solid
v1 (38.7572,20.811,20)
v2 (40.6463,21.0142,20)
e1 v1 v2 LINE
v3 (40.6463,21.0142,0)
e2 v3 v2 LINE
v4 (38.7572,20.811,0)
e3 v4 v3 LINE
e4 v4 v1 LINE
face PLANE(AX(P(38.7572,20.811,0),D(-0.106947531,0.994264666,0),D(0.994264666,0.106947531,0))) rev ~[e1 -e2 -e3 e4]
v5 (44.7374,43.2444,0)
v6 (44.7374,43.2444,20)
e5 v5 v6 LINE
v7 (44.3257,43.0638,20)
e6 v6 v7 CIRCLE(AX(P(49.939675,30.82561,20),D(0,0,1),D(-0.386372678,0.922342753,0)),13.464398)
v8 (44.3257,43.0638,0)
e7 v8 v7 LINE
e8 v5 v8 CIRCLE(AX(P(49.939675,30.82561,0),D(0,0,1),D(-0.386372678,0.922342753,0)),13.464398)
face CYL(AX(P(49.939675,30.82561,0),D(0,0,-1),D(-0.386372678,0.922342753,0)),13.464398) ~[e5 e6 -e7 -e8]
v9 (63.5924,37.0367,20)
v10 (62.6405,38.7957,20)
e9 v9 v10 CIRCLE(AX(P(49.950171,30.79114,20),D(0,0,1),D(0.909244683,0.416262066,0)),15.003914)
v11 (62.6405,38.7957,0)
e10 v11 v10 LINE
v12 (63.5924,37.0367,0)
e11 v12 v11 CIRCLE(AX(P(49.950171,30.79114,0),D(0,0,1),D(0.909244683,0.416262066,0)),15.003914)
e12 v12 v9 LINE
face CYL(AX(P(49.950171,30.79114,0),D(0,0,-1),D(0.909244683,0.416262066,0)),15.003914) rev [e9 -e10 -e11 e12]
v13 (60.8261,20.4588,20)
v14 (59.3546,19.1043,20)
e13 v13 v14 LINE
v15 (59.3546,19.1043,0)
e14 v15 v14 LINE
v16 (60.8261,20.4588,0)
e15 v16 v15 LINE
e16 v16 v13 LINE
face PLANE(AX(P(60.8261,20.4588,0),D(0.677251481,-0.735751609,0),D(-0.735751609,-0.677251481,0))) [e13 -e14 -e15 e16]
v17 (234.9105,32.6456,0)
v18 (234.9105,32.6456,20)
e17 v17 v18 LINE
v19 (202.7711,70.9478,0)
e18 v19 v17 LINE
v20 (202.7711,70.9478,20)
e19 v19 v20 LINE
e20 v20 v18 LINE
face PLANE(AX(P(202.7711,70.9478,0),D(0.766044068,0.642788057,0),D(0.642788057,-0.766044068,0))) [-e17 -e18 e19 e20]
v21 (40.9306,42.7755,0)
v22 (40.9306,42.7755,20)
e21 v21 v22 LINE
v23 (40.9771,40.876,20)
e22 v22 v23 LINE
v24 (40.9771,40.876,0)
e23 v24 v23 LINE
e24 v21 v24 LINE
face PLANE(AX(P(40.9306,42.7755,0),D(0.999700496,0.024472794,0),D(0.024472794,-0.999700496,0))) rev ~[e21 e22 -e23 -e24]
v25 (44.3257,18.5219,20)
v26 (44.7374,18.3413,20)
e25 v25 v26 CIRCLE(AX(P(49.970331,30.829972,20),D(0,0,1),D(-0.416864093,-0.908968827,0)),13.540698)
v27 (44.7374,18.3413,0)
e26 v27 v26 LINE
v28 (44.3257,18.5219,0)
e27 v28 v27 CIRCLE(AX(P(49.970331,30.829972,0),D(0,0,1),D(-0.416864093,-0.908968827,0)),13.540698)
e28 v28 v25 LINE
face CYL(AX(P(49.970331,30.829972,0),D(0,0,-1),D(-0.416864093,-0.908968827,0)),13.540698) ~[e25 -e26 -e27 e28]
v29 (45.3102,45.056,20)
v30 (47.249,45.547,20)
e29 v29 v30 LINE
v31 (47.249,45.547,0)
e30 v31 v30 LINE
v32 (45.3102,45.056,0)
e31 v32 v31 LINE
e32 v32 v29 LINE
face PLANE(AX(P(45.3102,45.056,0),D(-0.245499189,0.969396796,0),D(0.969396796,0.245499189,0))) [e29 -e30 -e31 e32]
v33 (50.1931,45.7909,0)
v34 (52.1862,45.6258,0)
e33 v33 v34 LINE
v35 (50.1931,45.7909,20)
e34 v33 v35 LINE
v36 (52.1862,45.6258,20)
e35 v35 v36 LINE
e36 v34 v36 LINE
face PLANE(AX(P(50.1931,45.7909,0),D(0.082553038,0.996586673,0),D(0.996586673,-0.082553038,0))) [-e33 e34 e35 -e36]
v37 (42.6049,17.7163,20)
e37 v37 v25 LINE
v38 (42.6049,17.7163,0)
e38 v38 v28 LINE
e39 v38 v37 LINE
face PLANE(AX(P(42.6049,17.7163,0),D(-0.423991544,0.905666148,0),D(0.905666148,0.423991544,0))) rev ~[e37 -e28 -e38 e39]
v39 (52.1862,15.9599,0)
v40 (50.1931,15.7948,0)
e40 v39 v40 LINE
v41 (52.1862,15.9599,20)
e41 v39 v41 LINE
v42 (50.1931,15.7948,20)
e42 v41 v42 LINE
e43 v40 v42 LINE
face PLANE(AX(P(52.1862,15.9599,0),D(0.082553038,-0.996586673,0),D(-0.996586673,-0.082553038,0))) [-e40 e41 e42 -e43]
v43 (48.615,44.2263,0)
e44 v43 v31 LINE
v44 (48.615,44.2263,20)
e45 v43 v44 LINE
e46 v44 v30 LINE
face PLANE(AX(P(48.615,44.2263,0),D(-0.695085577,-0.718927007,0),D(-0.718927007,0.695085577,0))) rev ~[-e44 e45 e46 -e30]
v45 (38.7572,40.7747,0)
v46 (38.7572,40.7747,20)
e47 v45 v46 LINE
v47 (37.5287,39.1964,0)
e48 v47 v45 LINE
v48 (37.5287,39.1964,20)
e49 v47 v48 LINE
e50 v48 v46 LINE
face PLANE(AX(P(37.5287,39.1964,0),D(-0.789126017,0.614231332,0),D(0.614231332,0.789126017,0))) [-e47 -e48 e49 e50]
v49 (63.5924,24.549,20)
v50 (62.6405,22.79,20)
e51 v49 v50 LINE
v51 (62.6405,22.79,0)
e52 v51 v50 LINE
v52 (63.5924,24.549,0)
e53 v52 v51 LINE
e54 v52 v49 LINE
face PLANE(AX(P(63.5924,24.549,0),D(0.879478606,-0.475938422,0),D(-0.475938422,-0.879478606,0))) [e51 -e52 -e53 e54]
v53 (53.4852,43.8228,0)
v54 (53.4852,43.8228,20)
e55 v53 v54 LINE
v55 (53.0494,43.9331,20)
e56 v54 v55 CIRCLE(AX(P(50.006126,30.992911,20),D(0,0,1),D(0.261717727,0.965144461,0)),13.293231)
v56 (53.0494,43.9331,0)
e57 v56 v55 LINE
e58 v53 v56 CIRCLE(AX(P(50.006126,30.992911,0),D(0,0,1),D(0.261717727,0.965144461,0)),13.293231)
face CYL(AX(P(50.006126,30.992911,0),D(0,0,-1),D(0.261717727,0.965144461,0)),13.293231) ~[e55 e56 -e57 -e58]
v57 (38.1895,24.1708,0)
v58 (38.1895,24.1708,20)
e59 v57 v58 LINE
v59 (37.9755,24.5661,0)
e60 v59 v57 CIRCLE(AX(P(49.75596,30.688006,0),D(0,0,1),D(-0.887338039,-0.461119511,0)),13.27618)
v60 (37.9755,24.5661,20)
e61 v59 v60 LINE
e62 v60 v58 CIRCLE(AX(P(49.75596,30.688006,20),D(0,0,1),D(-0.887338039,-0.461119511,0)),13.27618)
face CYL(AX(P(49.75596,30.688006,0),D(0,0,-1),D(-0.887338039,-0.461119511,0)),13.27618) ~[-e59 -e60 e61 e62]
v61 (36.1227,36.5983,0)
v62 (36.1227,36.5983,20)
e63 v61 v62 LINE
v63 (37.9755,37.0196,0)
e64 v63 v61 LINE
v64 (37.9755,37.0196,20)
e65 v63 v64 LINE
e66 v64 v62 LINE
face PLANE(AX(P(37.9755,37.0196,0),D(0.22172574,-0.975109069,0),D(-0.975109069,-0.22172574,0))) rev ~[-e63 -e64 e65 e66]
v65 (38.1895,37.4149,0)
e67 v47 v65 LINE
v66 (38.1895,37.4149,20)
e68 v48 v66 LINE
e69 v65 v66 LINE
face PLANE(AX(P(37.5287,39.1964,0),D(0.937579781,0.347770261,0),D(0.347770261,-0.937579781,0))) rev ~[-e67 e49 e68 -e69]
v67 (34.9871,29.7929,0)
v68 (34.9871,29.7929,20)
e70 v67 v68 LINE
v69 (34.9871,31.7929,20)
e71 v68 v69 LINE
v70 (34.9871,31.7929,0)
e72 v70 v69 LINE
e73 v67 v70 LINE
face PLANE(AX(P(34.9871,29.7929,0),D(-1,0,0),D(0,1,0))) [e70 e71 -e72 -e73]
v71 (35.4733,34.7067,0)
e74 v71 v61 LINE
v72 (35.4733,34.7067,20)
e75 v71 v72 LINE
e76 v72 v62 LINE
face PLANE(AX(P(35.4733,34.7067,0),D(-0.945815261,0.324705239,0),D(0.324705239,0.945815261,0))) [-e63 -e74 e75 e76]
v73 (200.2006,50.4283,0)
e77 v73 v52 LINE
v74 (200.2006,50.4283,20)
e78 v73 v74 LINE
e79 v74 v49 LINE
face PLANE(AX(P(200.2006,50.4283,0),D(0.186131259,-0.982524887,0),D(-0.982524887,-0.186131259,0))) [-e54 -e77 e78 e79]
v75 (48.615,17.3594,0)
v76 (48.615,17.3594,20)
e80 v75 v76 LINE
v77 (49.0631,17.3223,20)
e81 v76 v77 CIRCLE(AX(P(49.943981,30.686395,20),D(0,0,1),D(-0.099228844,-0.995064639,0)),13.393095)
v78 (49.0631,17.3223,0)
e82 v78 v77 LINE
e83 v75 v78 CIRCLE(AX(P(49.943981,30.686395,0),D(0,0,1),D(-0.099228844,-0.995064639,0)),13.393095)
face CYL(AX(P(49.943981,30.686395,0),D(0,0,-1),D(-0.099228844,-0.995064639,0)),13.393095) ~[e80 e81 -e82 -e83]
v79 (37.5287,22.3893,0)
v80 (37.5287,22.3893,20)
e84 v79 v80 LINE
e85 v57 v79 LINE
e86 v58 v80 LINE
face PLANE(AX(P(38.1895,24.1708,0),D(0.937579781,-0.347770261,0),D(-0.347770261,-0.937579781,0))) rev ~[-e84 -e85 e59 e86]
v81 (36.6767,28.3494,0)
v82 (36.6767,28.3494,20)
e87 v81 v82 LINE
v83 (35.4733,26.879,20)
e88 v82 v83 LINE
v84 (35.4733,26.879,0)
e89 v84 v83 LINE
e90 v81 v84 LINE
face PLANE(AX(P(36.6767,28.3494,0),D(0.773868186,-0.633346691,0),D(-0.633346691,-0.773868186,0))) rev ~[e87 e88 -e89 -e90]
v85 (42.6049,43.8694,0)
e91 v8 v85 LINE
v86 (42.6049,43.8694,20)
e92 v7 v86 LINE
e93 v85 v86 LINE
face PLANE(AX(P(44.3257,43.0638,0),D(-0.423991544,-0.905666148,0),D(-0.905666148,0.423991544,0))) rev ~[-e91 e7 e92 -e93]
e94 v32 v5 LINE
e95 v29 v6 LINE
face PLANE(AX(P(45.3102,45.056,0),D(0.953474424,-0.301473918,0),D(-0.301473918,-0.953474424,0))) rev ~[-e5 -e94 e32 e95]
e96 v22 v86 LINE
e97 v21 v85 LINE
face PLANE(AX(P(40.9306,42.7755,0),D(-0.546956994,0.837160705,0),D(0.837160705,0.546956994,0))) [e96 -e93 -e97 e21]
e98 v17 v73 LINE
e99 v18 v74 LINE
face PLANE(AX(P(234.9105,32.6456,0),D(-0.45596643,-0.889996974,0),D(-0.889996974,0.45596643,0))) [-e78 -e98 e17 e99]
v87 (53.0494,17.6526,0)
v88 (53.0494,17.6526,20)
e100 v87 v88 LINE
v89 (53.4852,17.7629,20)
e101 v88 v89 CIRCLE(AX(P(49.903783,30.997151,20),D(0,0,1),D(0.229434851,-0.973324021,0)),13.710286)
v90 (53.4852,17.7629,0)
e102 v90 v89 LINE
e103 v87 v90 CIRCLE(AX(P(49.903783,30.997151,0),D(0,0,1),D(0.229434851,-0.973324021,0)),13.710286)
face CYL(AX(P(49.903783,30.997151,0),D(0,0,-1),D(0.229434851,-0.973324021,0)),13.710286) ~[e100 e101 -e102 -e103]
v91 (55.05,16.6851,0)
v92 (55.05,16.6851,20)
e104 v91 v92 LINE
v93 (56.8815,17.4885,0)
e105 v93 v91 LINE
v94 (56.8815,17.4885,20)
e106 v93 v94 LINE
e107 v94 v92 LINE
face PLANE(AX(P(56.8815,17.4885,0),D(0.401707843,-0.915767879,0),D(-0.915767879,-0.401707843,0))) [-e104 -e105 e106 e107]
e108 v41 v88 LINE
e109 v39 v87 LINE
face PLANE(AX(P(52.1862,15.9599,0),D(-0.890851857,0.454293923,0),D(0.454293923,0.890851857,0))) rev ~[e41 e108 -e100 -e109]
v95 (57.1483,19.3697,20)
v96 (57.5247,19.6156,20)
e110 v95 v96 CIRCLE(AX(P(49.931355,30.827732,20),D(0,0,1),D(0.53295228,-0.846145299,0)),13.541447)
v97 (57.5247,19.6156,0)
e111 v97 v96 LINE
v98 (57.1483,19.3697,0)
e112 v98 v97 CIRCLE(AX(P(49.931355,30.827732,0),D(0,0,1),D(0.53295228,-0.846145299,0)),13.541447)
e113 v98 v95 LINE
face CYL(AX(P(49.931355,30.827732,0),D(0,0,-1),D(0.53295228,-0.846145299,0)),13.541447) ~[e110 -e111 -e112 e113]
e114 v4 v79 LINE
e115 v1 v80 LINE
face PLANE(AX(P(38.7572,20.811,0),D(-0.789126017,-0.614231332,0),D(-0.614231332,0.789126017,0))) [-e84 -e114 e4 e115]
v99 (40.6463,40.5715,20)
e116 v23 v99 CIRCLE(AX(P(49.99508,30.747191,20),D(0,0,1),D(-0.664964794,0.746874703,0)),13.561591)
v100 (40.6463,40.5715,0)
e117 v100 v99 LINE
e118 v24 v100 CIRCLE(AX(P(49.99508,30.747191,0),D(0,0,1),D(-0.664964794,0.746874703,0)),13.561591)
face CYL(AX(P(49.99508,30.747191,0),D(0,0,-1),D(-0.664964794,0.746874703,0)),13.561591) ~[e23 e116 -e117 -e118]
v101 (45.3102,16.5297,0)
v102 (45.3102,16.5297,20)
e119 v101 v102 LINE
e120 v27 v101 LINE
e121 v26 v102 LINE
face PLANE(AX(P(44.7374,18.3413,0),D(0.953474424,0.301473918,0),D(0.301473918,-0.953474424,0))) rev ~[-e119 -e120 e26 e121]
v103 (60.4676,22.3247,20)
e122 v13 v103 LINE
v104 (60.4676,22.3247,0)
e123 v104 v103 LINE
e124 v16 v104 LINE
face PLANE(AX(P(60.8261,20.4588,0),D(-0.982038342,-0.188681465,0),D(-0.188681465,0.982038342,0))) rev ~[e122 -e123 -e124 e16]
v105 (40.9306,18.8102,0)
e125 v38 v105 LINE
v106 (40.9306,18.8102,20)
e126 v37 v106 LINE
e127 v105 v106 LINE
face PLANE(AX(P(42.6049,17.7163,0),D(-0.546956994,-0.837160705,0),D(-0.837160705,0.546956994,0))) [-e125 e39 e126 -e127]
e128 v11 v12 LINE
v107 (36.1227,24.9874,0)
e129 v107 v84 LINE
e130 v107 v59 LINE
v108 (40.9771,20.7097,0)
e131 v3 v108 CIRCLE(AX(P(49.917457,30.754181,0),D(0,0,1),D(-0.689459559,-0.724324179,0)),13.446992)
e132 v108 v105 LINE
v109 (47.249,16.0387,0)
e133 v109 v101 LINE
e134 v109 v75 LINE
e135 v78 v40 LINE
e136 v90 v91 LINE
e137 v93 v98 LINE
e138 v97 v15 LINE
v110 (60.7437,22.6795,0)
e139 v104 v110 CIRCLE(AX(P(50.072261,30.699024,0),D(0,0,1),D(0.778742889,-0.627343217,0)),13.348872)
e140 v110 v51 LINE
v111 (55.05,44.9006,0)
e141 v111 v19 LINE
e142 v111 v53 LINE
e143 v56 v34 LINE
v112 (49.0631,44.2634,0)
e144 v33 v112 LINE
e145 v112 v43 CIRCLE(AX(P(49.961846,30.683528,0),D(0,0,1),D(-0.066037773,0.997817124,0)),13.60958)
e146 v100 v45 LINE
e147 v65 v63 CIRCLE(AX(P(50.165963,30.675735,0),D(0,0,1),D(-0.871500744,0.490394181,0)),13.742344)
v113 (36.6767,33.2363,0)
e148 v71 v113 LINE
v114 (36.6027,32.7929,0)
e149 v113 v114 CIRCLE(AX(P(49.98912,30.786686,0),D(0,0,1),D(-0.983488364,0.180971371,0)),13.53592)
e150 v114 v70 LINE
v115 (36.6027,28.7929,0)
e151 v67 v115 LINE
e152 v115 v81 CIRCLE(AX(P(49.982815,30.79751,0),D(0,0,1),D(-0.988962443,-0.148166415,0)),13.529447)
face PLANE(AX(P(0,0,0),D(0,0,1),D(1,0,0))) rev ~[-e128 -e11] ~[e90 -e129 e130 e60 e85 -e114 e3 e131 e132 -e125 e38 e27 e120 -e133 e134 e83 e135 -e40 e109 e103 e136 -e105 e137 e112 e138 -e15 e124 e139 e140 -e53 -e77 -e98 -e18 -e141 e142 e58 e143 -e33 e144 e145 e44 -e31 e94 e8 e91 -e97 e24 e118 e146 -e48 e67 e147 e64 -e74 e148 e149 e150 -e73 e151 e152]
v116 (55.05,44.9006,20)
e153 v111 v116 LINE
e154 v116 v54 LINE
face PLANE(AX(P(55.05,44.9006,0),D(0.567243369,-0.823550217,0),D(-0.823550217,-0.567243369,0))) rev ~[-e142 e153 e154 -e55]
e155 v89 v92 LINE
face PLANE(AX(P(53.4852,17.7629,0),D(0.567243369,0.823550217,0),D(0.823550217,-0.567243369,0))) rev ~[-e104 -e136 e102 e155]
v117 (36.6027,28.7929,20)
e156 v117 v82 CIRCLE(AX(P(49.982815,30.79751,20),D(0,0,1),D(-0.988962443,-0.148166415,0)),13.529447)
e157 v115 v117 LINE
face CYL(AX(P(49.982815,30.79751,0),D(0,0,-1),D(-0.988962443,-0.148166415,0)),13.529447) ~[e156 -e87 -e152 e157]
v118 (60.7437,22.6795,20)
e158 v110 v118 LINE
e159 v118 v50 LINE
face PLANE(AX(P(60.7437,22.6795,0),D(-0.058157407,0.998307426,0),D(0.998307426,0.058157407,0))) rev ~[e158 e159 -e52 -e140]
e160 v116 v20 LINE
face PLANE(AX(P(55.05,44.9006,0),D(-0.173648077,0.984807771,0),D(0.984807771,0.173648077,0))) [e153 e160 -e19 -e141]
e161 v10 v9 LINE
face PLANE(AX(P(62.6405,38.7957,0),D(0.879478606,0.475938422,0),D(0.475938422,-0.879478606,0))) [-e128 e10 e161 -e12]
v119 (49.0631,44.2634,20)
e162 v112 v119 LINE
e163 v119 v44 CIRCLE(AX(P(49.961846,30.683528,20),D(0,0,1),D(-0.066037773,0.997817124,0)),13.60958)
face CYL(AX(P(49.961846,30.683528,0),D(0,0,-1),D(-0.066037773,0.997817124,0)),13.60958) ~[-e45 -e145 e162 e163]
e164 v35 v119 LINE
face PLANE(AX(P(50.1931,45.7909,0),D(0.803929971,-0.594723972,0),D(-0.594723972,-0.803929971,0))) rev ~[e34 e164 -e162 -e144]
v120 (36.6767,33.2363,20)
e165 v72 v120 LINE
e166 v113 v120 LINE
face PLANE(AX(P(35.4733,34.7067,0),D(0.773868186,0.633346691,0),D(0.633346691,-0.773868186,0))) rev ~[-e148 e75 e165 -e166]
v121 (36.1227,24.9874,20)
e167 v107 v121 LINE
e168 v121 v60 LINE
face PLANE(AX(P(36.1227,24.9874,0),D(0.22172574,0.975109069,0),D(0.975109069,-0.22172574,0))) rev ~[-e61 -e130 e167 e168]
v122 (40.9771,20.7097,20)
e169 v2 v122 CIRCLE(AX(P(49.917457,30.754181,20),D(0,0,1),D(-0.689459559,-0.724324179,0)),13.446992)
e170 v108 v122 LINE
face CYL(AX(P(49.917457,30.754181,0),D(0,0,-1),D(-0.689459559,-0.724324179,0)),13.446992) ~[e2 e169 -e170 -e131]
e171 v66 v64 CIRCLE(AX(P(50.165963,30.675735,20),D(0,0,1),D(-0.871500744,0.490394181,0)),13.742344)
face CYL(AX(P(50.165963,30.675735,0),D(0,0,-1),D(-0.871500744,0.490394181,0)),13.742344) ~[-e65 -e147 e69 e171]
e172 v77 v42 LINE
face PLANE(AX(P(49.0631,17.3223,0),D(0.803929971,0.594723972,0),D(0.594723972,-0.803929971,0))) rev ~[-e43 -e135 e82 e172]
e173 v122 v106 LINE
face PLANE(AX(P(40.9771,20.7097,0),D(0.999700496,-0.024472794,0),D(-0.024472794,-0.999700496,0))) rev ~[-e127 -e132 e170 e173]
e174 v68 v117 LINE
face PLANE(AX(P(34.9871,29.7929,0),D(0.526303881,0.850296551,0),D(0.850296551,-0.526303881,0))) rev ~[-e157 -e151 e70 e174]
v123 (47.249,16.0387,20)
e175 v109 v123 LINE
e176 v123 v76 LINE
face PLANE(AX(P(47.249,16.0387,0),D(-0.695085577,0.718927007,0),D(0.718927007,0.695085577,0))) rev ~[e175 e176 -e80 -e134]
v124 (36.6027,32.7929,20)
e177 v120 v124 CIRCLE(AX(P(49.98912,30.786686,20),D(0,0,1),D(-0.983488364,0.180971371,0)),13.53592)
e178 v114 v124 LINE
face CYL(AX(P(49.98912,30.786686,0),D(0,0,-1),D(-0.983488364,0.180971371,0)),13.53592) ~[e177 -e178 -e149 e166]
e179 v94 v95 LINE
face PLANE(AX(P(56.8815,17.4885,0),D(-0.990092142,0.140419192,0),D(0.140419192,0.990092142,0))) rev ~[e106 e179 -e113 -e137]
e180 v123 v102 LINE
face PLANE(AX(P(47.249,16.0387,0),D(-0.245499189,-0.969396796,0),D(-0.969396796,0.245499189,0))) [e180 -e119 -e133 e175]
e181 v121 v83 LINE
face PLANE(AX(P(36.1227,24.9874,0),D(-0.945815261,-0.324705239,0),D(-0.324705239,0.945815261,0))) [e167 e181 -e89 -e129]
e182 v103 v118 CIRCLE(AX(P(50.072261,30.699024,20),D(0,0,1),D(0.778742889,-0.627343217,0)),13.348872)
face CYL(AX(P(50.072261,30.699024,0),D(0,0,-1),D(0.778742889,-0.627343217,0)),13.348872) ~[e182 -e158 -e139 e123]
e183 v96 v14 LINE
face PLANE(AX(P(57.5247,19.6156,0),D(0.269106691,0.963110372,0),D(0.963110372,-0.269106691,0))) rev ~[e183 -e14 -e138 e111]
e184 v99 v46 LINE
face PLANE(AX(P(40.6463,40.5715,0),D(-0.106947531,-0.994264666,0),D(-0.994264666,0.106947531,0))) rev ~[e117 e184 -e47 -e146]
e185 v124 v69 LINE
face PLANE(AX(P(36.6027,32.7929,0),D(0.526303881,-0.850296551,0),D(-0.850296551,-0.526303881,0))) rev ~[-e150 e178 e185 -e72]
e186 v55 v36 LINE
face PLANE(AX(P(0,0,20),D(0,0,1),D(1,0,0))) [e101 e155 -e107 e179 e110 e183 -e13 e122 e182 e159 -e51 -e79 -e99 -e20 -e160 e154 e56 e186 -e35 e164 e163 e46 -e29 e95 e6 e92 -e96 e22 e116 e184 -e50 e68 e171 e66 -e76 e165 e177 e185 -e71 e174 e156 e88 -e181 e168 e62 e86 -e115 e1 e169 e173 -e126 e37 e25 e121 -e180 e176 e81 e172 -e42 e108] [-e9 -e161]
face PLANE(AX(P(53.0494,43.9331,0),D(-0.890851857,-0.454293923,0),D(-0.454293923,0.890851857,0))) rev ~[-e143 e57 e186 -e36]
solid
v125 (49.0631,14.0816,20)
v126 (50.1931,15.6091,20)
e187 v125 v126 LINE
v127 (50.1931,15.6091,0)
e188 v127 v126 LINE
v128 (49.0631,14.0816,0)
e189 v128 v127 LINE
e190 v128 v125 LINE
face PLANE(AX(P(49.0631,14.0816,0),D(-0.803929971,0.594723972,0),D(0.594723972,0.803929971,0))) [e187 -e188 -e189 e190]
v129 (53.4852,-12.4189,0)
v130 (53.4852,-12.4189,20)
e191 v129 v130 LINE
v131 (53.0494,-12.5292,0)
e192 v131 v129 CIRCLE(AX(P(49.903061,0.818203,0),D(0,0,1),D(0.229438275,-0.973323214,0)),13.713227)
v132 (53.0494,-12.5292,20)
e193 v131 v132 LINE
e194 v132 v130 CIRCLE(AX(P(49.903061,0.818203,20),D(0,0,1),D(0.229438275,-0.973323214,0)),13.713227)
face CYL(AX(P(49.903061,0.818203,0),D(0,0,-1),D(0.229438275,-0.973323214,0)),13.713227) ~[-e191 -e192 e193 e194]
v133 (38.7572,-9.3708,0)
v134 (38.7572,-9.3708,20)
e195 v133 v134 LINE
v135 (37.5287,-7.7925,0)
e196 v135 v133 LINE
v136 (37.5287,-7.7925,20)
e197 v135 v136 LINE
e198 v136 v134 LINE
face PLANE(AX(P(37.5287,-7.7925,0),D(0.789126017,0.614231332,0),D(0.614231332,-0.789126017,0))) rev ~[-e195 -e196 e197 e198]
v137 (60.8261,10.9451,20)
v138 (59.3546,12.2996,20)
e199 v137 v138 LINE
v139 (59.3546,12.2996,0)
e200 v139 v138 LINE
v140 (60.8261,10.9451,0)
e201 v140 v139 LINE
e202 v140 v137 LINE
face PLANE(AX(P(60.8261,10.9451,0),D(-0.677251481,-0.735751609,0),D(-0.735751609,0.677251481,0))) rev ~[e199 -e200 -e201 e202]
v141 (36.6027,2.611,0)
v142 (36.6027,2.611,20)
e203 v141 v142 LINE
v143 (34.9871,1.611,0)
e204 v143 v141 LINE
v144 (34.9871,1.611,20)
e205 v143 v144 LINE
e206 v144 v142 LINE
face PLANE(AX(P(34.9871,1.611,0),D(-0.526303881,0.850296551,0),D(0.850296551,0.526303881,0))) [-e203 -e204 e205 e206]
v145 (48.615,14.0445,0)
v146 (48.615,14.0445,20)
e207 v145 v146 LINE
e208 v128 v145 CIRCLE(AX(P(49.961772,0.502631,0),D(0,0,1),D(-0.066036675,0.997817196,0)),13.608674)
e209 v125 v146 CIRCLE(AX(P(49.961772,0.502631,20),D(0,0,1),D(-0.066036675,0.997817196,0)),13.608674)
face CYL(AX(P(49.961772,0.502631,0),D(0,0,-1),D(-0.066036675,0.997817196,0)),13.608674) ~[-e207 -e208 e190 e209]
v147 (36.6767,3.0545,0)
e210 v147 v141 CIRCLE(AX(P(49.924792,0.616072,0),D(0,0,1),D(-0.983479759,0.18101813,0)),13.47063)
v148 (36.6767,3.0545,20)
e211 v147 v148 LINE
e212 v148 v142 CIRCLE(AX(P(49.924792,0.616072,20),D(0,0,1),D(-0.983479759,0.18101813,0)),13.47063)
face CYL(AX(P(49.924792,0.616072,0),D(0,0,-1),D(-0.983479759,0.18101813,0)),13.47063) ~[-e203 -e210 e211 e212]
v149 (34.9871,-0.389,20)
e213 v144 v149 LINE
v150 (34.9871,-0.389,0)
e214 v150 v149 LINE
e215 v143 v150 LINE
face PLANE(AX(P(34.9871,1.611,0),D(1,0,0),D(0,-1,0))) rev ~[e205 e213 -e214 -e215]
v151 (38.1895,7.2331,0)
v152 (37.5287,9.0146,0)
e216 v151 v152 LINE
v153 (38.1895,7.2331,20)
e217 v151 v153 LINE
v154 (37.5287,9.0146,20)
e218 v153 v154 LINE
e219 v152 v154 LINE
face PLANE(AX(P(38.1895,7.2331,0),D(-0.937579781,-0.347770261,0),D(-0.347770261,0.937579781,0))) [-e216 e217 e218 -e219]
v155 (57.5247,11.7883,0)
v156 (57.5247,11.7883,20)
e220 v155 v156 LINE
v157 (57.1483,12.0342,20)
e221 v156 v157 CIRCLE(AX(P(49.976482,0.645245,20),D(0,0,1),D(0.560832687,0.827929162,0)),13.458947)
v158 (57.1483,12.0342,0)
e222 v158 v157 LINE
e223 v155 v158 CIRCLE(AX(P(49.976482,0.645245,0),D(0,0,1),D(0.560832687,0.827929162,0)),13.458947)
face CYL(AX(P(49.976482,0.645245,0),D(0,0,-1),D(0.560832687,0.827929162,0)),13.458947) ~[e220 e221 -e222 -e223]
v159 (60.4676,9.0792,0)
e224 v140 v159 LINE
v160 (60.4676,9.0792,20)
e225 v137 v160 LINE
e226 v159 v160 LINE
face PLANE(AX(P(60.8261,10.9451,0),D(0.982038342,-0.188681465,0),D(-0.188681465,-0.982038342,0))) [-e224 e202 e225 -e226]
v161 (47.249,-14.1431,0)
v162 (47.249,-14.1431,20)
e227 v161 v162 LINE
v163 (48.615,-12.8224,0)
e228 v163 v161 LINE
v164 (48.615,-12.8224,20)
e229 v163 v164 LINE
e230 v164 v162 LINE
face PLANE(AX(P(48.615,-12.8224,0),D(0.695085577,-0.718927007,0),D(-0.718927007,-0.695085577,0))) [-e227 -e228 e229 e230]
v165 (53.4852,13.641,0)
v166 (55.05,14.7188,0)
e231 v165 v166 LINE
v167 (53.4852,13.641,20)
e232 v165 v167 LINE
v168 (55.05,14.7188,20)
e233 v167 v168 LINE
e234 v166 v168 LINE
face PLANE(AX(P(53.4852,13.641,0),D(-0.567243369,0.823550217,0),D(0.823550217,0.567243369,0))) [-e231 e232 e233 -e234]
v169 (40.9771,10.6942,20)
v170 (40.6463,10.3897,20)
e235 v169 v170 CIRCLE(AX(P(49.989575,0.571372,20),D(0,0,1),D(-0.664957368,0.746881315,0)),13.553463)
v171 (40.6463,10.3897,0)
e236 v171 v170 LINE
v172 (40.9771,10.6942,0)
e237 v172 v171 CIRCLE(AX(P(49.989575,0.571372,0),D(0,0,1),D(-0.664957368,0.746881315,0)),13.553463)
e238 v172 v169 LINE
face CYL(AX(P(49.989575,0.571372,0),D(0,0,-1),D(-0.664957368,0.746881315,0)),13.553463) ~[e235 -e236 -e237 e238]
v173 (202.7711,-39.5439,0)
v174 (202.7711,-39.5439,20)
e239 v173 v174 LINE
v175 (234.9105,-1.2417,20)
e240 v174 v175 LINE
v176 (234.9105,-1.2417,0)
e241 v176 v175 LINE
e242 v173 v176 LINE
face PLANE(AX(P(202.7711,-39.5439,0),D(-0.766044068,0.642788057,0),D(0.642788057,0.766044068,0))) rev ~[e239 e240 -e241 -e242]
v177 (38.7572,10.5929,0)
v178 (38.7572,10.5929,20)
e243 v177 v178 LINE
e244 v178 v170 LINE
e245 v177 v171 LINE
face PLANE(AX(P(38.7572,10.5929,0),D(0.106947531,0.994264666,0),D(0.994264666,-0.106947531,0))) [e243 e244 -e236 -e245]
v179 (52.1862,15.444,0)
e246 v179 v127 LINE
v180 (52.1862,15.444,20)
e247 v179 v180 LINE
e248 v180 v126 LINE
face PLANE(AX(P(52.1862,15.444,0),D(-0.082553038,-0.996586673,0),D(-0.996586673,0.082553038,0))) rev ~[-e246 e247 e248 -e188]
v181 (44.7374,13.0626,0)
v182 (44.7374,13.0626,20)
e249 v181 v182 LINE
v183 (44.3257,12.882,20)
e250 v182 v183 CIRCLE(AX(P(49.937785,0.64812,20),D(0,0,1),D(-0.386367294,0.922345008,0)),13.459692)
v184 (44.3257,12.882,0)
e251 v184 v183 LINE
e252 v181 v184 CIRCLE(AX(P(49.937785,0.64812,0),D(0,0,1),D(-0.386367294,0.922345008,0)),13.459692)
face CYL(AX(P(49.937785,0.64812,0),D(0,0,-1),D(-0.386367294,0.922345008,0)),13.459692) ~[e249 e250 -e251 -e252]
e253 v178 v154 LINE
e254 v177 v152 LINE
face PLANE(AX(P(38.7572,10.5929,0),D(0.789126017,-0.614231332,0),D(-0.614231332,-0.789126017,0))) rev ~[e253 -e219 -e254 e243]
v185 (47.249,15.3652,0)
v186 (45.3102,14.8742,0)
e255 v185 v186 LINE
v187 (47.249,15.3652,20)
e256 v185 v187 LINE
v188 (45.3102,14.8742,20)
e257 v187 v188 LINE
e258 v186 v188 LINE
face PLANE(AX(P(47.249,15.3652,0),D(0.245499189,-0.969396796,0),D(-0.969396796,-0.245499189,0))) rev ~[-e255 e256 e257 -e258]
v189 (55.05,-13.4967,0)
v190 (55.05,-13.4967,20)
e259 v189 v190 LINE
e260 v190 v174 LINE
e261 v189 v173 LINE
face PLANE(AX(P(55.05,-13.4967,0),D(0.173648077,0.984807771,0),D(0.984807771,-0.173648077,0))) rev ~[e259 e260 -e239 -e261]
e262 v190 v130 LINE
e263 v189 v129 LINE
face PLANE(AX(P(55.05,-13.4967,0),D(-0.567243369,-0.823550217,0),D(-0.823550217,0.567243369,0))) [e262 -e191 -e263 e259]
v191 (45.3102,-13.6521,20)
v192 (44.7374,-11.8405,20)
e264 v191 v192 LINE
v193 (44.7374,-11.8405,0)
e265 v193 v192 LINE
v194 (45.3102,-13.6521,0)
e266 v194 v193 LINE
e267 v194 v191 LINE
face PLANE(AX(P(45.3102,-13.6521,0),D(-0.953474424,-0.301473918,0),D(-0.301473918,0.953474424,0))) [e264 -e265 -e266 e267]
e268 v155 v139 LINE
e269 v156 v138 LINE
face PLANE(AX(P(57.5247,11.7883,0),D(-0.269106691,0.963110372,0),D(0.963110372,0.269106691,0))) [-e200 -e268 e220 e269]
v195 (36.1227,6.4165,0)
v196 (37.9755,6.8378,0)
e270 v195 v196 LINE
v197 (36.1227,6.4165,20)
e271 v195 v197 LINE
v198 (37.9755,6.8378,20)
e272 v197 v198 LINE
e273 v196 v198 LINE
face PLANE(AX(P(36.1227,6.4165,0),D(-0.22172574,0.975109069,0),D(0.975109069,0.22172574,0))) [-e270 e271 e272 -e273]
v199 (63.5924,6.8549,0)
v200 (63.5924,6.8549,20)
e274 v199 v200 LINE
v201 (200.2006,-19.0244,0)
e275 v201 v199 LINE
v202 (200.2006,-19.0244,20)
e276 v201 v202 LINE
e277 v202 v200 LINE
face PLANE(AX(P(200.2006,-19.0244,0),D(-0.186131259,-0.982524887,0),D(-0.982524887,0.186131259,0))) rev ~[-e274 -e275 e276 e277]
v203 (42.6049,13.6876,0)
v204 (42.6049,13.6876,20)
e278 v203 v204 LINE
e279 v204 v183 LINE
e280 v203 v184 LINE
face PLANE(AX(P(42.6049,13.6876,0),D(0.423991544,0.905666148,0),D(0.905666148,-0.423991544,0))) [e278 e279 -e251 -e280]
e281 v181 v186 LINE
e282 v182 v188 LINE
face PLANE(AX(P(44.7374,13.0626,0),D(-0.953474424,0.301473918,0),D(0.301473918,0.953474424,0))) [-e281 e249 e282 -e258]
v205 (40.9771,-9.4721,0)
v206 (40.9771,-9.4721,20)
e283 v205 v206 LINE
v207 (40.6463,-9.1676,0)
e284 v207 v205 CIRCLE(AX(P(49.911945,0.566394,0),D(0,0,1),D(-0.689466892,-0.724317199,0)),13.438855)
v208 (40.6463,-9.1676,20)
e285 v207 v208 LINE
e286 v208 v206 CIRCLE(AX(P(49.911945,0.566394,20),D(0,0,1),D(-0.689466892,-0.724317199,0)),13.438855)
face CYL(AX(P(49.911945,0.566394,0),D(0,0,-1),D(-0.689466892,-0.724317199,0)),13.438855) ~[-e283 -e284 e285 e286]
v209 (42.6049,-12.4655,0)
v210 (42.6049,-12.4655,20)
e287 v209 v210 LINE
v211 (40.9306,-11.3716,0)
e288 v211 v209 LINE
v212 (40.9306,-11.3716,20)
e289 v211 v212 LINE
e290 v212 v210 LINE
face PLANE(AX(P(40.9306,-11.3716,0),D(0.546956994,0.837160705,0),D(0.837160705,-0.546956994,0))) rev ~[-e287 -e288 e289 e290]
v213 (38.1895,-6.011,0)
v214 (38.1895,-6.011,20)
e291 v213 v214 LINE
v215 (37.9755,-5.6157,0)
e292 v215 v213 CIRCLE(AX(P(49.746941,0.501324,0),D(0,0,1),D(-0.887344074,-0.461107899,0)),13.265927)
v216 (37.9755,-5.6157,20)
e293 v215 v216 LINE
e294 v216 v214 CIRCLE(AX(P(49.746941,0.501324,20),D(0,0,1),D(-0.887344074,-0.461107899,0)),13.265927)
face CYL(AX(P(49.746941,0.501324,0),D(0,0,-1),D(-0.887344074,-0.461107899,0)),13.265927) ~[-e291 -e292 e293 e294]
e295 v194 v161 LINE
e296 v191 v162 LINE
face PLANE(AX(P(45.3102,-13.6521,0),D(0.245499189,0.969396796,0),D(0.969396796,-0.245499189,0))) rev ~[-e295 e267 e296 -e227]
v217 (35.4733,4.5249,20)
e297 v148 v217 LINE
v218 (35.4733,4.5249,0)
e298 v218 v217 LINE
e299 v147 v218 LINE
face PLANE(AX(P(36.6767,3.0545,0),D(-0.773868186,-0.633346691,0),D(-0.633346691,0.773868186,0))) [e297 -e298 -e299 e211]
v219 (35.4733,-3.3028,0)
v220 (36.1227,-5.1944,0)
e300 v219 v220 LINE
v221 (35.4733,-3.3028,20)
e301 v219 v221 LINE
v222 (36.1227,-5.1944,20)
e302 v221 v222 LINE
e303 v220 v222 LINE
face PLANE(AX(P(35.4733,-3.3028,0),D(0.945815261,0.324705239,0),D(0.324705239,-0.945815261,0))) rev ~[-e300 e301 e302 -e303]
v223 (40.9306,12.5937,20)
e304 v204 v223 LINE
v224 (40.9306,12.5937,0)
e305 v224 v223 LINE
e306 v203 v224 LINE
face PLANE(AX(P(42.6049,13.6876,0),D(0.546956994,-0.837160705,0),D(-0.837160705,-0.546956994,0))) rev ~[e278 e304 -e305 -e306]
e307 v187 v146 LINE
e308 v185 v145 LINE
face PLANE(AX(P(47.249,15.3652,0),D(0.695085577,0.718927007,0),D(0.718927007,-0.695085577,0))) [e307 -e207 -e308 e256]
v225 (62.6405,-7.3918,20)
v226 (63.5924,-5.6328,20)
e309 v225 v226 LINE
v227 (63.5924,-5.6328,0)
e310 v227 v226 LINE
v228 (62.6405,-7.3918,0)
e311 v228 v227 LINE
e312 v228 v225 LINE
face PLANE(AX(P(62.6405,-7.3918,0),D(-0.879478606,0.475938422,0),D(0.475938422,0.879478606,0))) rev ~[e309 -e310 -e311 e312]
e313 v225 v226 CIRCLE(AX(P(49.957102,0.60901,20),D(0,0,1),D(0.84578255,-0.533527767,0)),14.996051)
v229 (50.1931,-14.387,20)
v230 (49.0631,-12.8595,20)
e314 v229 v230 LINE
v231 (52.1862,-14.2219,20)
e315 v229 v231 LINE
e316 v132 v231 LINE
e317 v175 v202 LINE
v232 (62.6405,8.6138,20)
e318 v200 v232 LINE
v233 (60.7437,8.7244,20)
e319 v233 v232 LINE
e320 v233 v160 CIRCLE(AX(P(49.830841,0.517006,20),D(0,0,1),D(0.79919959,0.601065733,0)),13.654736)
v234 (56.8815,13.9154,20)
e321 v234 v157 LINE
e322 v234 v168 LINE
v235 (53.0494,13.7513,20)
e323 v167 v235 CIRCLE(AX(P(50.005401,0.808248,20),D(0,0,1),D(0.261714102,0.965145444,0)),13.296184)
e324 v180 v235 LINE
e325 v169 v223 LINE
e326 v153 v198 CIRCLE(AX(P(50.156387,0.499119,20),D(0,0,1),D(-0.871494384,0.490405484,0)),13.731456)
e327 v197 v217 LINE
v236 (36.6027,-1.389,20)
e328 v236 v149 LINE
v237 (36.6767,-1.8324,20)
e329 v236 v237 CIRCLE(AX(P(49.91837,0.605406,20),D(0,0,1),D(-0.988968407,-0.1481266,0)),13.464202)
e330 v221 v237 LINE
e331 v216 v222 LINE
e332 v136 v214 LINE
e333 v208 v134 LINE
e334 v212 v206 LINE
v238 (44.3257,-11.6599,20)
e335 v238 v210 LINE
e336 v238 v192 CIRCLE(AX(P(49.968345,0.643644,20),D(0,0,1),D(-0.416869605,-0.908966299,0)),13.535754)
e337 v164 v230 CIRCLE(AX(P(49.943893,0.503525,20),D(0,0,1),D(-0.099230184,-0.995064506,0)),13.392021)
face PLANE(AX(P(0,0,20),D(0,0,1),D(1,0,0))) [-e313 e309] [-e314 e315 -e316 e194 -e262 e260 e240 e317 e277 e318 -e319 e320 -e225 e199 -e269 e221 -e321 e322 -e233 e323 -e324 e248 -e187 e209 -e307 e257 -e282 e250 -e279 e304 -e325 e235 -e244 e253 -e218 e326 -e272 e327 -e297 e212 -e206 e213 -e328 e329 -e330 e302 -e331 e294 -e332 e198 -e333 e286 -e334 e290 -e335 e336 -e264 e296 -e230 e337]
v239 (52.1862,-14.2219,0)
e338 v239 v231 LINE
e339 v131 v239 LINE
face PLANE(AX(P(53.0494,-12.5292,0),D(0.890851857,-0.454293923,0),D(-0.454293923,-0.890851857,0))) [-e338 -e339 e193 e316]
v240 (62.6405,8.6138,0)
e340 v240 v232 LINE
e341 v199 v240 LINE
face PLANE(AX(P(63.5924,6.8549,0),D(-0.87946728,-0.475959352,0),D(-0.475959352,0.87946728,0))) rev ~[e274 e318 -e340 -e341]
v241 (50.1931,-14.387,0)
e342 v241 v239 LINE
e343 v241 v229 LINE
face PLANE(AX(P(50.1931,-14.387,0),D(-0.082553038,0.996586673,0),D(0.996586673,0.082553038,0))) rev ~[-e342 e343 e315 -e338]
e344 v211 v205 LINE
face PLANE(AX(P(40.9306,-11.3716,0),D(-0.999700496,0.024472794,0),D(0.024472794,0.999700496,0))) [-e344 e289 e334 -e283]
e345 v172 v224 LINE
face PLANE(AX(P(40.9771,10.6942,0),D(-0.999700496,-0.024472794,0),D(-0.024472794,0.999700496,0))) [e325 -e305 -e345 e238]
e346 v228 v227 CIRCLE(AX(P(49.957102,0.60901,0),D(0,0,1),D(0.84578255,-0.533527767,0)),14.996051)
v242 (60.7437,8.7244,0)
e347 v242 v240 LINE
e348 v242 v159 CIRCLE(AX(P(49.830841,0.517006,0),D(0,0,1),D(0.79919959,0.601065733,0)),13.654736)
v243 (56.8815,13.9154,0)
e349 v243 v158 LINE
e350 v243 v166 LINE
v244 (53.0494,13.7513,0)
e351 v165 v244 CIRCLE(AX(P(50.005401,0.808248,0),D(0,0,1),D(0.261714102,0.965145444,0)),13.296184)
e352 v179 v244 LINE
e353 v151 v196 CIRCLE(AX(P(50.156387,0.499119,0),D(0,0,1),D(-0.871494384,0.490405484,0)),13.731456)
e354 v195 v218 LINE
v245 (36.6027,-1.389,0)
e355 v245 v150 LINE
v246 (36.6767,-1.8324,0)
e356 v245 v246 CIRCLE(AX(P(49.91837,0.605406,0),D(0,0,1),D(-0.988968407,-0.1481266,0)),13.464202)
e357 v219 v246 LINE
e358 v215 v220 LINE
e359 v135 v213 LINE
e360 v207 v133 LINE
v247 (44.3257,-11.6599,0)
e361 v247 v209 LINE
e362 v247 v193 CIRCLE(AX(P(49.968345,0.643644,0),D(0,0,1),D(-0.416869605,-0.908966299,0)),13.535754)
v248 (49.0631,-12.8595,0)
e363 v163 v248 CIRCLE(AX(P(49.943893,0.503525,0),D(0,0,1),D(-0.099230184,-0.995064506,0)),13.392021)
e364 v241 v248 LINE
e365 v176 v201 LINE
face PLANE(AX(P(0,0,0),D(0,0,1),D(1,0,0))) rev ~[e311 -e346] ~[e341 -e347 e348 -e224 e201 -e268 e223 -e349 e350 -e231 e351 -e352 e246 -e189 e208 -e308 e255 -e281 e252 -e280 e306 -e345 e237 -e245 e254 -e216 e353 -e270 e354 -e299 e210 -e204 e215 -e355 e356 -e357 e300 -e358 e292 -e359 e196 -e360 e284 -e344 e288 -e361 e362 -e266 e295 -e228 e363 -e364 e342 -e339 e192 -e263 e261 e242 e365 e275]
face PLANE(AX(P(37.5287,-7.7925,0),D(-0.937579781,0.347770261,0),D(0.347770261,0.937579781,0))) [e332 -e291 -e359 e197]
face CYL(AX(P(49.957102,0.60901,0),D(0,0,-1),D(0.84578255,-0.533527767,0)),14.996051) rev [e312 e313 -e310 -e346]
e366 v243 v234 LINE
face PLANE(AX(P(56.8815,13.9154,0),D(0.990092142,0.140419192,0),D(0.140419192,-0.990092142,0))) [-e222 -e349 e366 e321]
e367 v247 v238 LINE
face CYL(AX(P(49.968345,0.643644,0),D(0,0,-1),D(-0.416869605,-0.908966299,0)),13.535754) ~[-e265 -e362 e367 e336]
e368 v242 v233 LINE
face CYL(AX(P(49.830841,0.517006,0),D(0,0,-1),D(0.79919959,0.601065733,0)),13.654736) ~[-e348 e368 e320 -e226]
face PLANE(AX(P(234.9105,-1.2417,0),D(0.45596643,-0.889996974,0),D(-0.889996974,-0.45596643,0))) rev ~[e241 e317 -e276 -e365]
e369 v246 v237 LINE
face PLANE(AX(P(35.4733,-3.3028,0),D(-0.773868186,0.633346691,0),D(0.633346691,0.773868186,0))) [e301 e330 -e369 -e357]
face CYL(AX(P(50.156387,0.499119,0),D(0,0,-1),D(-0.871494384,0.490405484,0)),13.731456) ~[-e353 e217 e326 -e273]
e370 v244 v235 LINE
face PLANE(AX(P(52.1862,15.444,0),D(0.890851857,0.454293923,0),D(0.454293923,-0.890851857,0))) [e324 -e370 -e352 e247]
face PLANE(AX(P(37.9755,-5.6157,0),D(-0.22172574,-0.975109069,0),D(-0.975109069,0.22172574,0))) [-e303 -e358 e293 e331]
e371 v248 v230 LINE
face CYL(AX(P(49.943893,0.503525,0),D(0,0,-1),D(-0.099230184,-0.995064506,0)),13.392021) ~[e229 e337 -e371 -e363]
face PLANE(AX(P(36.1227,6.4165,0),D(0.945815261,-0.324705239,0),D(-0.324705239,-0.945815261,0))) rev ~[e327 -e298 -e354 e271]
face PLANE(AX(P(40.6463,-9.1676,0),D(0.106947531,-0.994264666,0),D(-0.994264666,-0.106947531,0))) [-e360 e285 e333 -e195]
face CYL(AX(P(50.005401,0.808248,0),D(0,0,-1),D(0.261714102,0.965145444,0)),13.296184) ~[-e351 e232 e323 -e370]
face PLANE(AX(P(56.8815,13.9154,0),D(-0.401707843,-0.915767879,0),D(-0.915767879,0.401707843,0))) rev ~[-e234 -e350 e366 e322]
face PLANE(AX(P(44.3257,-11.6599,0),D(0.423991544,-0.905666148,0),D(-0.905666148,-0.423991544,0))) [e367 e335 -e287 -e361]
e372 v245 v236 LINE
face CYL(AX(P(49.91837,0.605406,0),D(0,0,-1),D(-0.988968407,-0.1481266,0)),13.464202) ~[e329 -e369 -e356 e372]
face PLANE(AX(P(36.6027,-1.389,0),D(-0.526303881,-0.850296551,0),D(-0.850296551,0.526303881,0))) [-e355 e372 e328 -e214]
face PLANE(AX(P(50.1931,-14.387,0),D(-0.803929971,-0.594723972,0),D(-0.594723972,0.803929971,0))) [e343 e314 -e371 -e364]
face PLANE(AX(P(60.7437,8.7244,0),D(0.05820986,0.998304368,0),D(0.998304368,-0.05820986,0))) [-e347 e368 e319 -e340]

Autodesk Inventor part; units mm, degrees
ref_plane "YZ Plane" through (0, 0, 0) normal (1, 0, 0) x (0, 1, 0)
ref_plane "XZ Plane" through (0, 0, 0) normal (0, 1, 0) x (-1, 0, 0)
ref_plane "XY Plane" through (0, 0, 0) normal (0, 0, 1) x (1, 0, 0)
sketch "Sketch1" plane through (0, 0, 0) normal (0, 0, 1) x (1, 0, 0)
  line L0 (36.6027, 32.7929) -> (34.9871, 31.7929)
  line L1 (34.9871, 29.7929) -> (34.9871, 31.7929)
  line L2 (34.9871, 29.7929) -> (36.6027, 28.7929)
  line L3 (36.6767, 28.3494) -> (35.4733, 26.879)
  line L4 (36.1227, 24.9874) -> (35.4733, 26.879)
  line L5 (36.1227, 24.9874) -> (37.9755, 24.5661)
  line L6 (38.1895, 24.1708) -> (37.5287, 22.3893)
  line L7 (38.7572, 20.811) -> (37.5287, 22.3893)
  line L8 (38.7572, 20.811) -> (40.6463, 21.0142)
  line L9 (40.9771, 20.7097) -> (40.9306, 18.8102)
  line L10 (42.6049, 17.7163) -> (40.9306, 18.8102)
  line L11 (42.6049, 17.7163) -> (44.3257, 18.5219)
  line L12 (44.7374, 18.3413) -> (45.3102, 16.5297)
  line L13 (47.249, 16.0387) -> (45.3102, 16.5297)
  line L14 (47.249, 16.0387) -> (48.615, 17.3594)
  line L15 (49.0631, 17.3223) -> (50.1931, 15.7948)
  line L16 (52.1862, 15.9599) -> (50.1931, 15.7948)
  line L17 (52.1862, 15.9599) -> (53.0494, 17.6526)
  line L18 (53.4852, 17.7629) -> (55.05, 16.6851)
  line L19 (56.8815, 17.4885) -> (55.05, 16.6851)
  line L20 (56.8815, 17.4885) -> (57.1483, 19.3697)
  line L21 (57.5247, 19.6156) -> (59.3546, 19.1043)
  line L22 (60.8261, 20.4588) -> (59.3546, 19.1043)
  line L23 (60.8261, 20.4588) -> (60.4676, 22.3247)
  line L24 (60.7437, 22.6795) -> (62.6405, 22.79)
  line L25 (63.5924, 24.549) -> (62.6405, 22.79)
  line L26 (63.5924, 24.549) -> (62.6475, 26.1974)
  line L27 (62.7935, 26.6226) -> (64.5516, 27.3431)
  line L28 (64.8808, 29.3158) -> (64.5516, 27.3431)
  line L29 (64.8808, 29.3158) -> (63.4519, 30.5681)
  line L30 (63.4519, 31.0176) -> (64.8808, 32.2699)
  line L31 (64.5516, 34.2426) -> (64.8808, 32.2699)
  line L32 (64.5516, 34.2426) -> (62.7935, 34.9631)
  line L33 (62.6475, 35.3883) -> (63.5924, 37.0367)
  line L34 (62.6405, 38.7957) -> (63.5924, 37.0367)
  line L35 (62.6405, 38.7957) -> (60.7437, 38.9062)
  line L36 (60.4676, 39.261) -> (60.8261, 41.1269)
  line L37 (59.3546, 42.4814) -> (60.8261, 41.1269)
  line L38 (59.3546, 42.4814) -> (57.5247, 41.9701)
  line L39 (57.1483, 42.216) -> (56.8815, 44.0972)
  line L40 (55.05, 44.9006) -> (56.8815, 44.0972)
  line L41 (55.05, 44.9006) -> (53.4852, 43.8228)
  line L42 (53.0494, 43.9331) -> (52.1862, 45.6258)
  line L43 (50.1931, 45.7909) -> (52.1862, 45.6258)
  line L44 (50.1931, 45.7909) -> (49.0631, 44.2634)
  line L45 (48.615, 44.2263) -> (47.249, 45.547)
  line L46 (45.3102, 45.056) -> (47.249, 45.547)
  line L47 (45.3102, 45.056) -> (44.7374, 43.2444)
  line L48 (44.3257, 43.0638) -> (42.6049, 43.8694)
  line L49 (40.9306, 42.7755) -> (42.6049, 43.8694)
  line L50 (40.9306, 42.7755) -> (40.9771, 40.876)
  line L51 (40.6463, 40.5715) -> (38.7572, 40.7747)
  line L52 (37.5287, 39.1964) -> (38.7572, 40.7747)
  line L53 (37.5287, 39.1964) -> (38.1895, 37.4149)
  line L54 (37.9755, 37.0196) -> (36.1227, 36.5983)
  line L55 (35.4733, 34.7067) -> (36.1227, 36.5983)
  line L56 (35.4733, 34.7067) -> (36.6767, 33.2363)
  arc A0 (40.9771, 40.876) -> (40.6463, 40.5715) centre (49.9537, 30.7929) ccw
  arc A1 (44.7374, 43.2444) -> (44.3257, 43.0638) centre (49.9537, 30.7929) ccw
  arc A2 (49.0631, 44.2634) -> (48.615, 44.2263) centre (49.9537, 30.7929) ccw
  arc A3 (53.4852, 43.8228) -> (53.0494, 43.9331) centre (49.9537, 30.7929) ccw
  arc A4 (57.5247, 41.9701) -> (57.1483, 42.216) centre (49.9537, 30.7929) ccw
  arc A5 (60.7437, 38.9062) -> (60.4676, 39.261) centre (49.9537, 30.7929) ccw
  arc A6 (62.7935, 34.9631) -> (62.6475, 35.3883) centre (49.9537, 30.7929) ccw
  arc A7 (63.4519, 30.5681) -> (63.4519, 31.0176) centre (49.9537, 30.7929) ccw
  arc A8 (62.6475, 26.1974) -> (62.7935, 26.6226) centre (49.9537, 30.7929) ccw
  arc A9 (60.4676, 22.3247) -> (60.7437, 22.6795) centre (49.9537, 30.7929) ccw
  arc A10 (57.1483, 19.3697) -> (57.5247, 19.6156) centre (49.9537, 30.7929) ccw
  arc A11 (53.0494, 17.6526) -> (53.4852, 17.7629) centre (49.9537, 30.7929) ccw
  arc A12 (48.615, 17.3594) -> (49.0631, 17.3223) centre (49.9537, 30.7929) ccw
  arc A13 (44.3257, 18.5219) -> (44.7374, 18.3413) centre (49.9537, 30.7929) ccw
  arc A14 (40.6463, 21.0142) -> (40.9771, 20.7097) centre (49.9537, 30.7929) ccw
  arc A15 (37.9755, 24.5661) -> (38.1895, 24.1708) centre (49.9537, 30.7929) ccw
  arc A16 (36.6027, 28.7929) -> (36.6767, 28.3494) centre (49.9537, 30.7929) ccw
  arc A17 (38.1895, 37.4149) -> (37.9755, 37.0196) centre (49.9537, 30.7929) ccw
  arc A18 (36.6767, 33.2363) -> (36.6027, 32.7929) centre (49.9537, 30.7929) ccw
  arc A19 (37.5287, 22.3893) -> (38.2823, 21.3706) centre (49.9537, 30.7929) ccw
  arc A20 (63.5924, 37.0367) -> (62.6405, 38.7957) centre (49.9537, 30.7929) ccw
  arc A21 (41.5275, 43.2025) -> (40.9306, 42.7755) centre (49.9537, 30.7929) ccw
  line L57 (55.05, 44.9006) -> (202.7711, 70.9478)
  line L58 (202.7711, 70.9478) -> (234.9105, 32.6456)
  line L59 (234.9105, 32.6456) -> (200.2006, 50.4283)
  line L60 (200.2006, 50.4283) -> (63.5924, 24.549)
  line L61 (36.6027, -1.389) -> (34.9871, -0.389)
  line L62 (34.9871, 1.611) -> (34.9871, -0.389)
  line L63 (34.9871, 1.611) -> (36.6027, 2.611)
  line L64 (36.6767, 3.0545) -> (35.4733, 4.5249)
  line L65 (36.1227, 6.4165) -> (35.4733, 4.5249)
  line L66 (36.1227, 6.4165) -> (37.9755, 6.8378)
  line L67 (38.1895, 7.2331) -> (37.5287, 9.0146)
  line L68 (38.7572, 10.5929) -> (37.5287, 9.0146)
  line L69 (38.7572, 10.5929) -> (40.6463, 10.3897)
  line L70 (40.9771, 10.6942) -> (40.9306, 12.5937)
  line L71 (42.6049, 13.6876) -> (40.9306, 12.5937)
  line L72 (42.6049, 13.6876) -> (44.3257, 12.882)
  line L73 (44.7374, 13.0626) -> (45.3102, 14.8742)
  line L74 (47.249, 15.3652) -> (45.3102, 14.8742)
  line L75 (47.249, 15.3652) -> (48.615, 14.0445)
  line L76 (49.0631, 14.0816) -> (50.1931, 15.6091)
  line L77 (52.1862, 15.444) -> (50.1931, 15.6091)
  line L78 (52.1862, 15.444) -> (53.0494, 13.7513)
  line L79 (53.4852, 13.641) -> (55.05, 14.7188)
  line L80 (56.8815, 13.9154) -> (55.05, 14.7188)
  line L81 (56.8815, 13.9154) -> (57.1483, 12.0342)
  line L82 (57.5247, 11.7883) -> (59.3546, 12.2996)
  line L83 (60.8261, 10.9451) -> (59.3546, 12.2996)
  line L84 (60.8261, 10.9451) -> (60.4676, 9.0792)
  line L85 (60.7437, 8.7244) -> (62.6405, 8.6138)
  line L86 (63.5924, 6.8549) -> (62.6405, 8.6138)
  line L87 (63.5924, 6.8549) -> (62.6475, 5.2065)
  line L88 (62.7935, 4.7813) -> (64.5516, 4.0608)
  line L89 (64.8808, 2.0881) -> (64.5516, 4.0608)
  line L90 (64.8808, 2.0881) -> (63.4519, 0.8358)
  line L91 (63.4519, 0.3863) -> (64.8808, -0.866)
  line L92 (64.5516, -2.8387) -> (64.8808, -0.866)
  line L93 (64.5516, -2.8387) -> (62.7935, -3.5592)
  line L94 (62.6475, -3.9844) -> (63.5924, -5.6328)
  line L95 (62.6405, -7.3918) -> (63.5924, -5.6328)
  line L96 (62.6405, -7.3918) -> (60.7437, -7.5023)
  line L97 (60.4676, -7.8571) -> (60.8261, -9.723)
  line L98 (59.3546, -11.0775) -> (60.8261, -9.723)
  line L99 (59.3546, -11.0775) -> (57.5247, -10.5662)
  line L100 (57.1483, -10.8121) -> (56.8815, -12.6933)
  line L101 (55.05, -13.4967) -> (56.8815, -12.6933)
  line L102 (55.05, -13.4967) -> (53.4852, -12.4189)
  line L103 (53.0494, -12.5292) -> (52.1862, -14.2219)
  line L104 (50.1931, -14.387) -> (52.1862, -14.2219)
  line L105 (50.1931, -14.387) -> (49.0631, -12.8595)
  line L106 (48.615, -12.8224) -> (47.249, -14.1431)
  line L107 (45.3102, -13.6521) -> (47.249, -14.1431)
  line L108 (45.3102, -13.6521) -> (44.7374, -11.8405)
  line L109 (44.3257, -11.6599) -> (42.6049, -12.4655)
  line L110 (40.9306, -11.3716) -> (42.6049, -12.4655)
  line L111 (40.9306, -11.3716) -> (40.9771, -9.4721)
  line L112 (40.6463, -9.1676) -> (38.7572, -9.3708)
  line L113 (37.5287, -7.7925) -> (38.7572, -9.3708)
  line L114 (37.5287, -7.7925) -> (38.1895, -6.011)
  line L115 (37.9755, -5.6157) -> (36.1227, -5.1944)
  line L116 (35.4733, -3.3028) -> (36.1227, -5.1944)
  line L117 (35.4733, -3.3028) -> (36.6767, -1.8324)
  arc A22 (40.6463, -9.1676) -> (40.9771, -9.4721) centre (49.9537, 0.611) ccw
  arc A23 (44.3257, -11.6599) -> (44.7374, -11.8405) centre (49.9537, 0.611) ccw
  arc A24 (48.615, -12.8224) -> (49.0631, -12.8595) centre (49.9537, 0.611) ccw
  arc A25 (53.0494, -12.5292) -> (53.4852, -12.4189) centre (49.9537, 0.611) ccw
  arc A26 (57.1483, -10.8121) -> (57.5247, -10.5662) centre (49.9537, 0.611) ccw
  arc A27 (60.4676, -7.8571) -> (60.7437, -7.5023) centre (49.9537, 0.611) ccw
  arc A28 (62.6475, -3.9844) -> (62.7935, -3.5592) centre (49.9537, 0.611) ccw
  arc A29 (63.4519, 0.3863) -> (63.4519, 0.8358) centre (49.9537, 0.611) ccw
  arc A30 (62.7935, 4.7813) -> (62.6475, 5.2065) centre (49.9537, 0.611) ccw
  arc A31 (60.7437, 8.7244) -> (60.4676, 9.0792) centre (49.9537, 0.611) ccw
  arc A32 (57.5247, 11.7883) -> (57.1483, 12.0342) centre (49.9537, 0.611) ccw
  arc A33 (53.4852, 13.641) -> (53.0494, 13.7513) centre (49.9537, 0.611) ccw
  arc A34 (49.0631, 14.0816) -> (48.615, 14.0445) centre (49.9537, 0.611) ccw
  arc A35 (44.7374, 13.0626) -> (44.3257, 12.882) centre (49.9537, 0.611) ccw
  arc A36 (40.9771, 10.6942) -> (40.6463, 10.3897) centre (49.9537, 0.611) ccw
  arc A37 (38.1895, 7.2331) -> (37.9755, 6.8378) centre (49.9537, 0.611) ccw
  arc A38 (36.6767, 3.0545) -> (36.6027, 2.611) centre (49.9537, 0.611) ccw
  arc A39 (37.9755, -5.6157) -> (38.1895, -6.011) centre (49.9537, 0.611) ccw
  arc A40 (36.6027, -1.389) -> (36.6767, -1.8324) centre (49.9537, 0.611) ccw
  arc A41 (38.2823, 10.0333) -> (37.5287, 9.0146) centre (49.9537, 0.611) ccw
  arc A42 (62.6405, -7.3918) -> (63.5924, -5.6328) centre (49.9537, 0.611) ccw
  arc A43 (40.9306, -11.3716) -> (41.5275, -11.7986) centre (49.9537, 0.611) ccw
  line L118 (55.05, -13.4967) -> (202.7711, -39.5439)
  line L119 (202.7711, -39.5439) -> (234.9105, -1.2417)
  line L120 (234.9105, -1.2417) -> (200.2006, -19.0244)
  line L121 (200.2006, -19.0244) -> (63.5924, 6.8549)
  arc A44 (51.277, 15.8513) -> (51.458, 15.8685) centre (49.9537, 30.7929) ccw
  arc A45 (50.1931, 15.7948) -> (50.3325, 15.7976) centre (49.9537, 30.7929) ccw
  arc A46 (50.9264, 15.8244) -> (51.1394, 15.8398) centre (49.9537, 30.7929) ccw
  point P0 (0, 0)
  point P1 (60.3076, 11.4645)
  dimension "d8" = 360
extrude "Extrusion1" add sketch "Sketch1" along normal blind 20 contours A18 L56 L55 L54 A17 L53 L52 L51 A0 L50 L49 L48 A1 L47 L46 L45 A2 L44 L43 L42 A3 L41 L40 L39 A4 L38 L37 L36 A5 L35 L34 L33 A6 L32 L31 L30 A7 L29 L28 L27 A8 L26 L25 L24 A9 L23 L22 L21 A10 L20 L19 L18 A11 L17 L16 L15 A12 L14 L13 L12 A13 L11 L10 L9 A14 L8 L7 L6 A15 L5 L4 L3 A16 L2 L1 L0 | L57 L58 L59 L60 L26 A8 L27 L28 L29 A7 L30 L31 L32 A6 L33 A20 L35 A5 L36 L37 L38 A4 L39 L40 | L61 L62 L63 A38 L64 L65 L66 A37 L67 L68 L69 A36 L70 L71 L72 A35 L73 L74 L75 A34 L76 L77 L78 A33 L79 L80 L81 A32 L82 L83 L84 A31 L85 L86 L87 A30 L88 L89 L90 A29 L91 L92 L93 A28 L94 L95 L96 A27 L97 L98 L99 A26 L100 L101 L102 A25 L103 L104 L105 A24 L106 L107 L108 A23 L109 L110 L111 A22 L112 L113 L114 A39 L115 L116 L117 A40 | L101 L100 A26 L99 L98 L97 A27 L96 A42 L94 A28 L93 L92 L91 A29 L90 L89 L88 A30 L87 L121 L120 L119 L118
properties part number "Claw(2 gear)"
